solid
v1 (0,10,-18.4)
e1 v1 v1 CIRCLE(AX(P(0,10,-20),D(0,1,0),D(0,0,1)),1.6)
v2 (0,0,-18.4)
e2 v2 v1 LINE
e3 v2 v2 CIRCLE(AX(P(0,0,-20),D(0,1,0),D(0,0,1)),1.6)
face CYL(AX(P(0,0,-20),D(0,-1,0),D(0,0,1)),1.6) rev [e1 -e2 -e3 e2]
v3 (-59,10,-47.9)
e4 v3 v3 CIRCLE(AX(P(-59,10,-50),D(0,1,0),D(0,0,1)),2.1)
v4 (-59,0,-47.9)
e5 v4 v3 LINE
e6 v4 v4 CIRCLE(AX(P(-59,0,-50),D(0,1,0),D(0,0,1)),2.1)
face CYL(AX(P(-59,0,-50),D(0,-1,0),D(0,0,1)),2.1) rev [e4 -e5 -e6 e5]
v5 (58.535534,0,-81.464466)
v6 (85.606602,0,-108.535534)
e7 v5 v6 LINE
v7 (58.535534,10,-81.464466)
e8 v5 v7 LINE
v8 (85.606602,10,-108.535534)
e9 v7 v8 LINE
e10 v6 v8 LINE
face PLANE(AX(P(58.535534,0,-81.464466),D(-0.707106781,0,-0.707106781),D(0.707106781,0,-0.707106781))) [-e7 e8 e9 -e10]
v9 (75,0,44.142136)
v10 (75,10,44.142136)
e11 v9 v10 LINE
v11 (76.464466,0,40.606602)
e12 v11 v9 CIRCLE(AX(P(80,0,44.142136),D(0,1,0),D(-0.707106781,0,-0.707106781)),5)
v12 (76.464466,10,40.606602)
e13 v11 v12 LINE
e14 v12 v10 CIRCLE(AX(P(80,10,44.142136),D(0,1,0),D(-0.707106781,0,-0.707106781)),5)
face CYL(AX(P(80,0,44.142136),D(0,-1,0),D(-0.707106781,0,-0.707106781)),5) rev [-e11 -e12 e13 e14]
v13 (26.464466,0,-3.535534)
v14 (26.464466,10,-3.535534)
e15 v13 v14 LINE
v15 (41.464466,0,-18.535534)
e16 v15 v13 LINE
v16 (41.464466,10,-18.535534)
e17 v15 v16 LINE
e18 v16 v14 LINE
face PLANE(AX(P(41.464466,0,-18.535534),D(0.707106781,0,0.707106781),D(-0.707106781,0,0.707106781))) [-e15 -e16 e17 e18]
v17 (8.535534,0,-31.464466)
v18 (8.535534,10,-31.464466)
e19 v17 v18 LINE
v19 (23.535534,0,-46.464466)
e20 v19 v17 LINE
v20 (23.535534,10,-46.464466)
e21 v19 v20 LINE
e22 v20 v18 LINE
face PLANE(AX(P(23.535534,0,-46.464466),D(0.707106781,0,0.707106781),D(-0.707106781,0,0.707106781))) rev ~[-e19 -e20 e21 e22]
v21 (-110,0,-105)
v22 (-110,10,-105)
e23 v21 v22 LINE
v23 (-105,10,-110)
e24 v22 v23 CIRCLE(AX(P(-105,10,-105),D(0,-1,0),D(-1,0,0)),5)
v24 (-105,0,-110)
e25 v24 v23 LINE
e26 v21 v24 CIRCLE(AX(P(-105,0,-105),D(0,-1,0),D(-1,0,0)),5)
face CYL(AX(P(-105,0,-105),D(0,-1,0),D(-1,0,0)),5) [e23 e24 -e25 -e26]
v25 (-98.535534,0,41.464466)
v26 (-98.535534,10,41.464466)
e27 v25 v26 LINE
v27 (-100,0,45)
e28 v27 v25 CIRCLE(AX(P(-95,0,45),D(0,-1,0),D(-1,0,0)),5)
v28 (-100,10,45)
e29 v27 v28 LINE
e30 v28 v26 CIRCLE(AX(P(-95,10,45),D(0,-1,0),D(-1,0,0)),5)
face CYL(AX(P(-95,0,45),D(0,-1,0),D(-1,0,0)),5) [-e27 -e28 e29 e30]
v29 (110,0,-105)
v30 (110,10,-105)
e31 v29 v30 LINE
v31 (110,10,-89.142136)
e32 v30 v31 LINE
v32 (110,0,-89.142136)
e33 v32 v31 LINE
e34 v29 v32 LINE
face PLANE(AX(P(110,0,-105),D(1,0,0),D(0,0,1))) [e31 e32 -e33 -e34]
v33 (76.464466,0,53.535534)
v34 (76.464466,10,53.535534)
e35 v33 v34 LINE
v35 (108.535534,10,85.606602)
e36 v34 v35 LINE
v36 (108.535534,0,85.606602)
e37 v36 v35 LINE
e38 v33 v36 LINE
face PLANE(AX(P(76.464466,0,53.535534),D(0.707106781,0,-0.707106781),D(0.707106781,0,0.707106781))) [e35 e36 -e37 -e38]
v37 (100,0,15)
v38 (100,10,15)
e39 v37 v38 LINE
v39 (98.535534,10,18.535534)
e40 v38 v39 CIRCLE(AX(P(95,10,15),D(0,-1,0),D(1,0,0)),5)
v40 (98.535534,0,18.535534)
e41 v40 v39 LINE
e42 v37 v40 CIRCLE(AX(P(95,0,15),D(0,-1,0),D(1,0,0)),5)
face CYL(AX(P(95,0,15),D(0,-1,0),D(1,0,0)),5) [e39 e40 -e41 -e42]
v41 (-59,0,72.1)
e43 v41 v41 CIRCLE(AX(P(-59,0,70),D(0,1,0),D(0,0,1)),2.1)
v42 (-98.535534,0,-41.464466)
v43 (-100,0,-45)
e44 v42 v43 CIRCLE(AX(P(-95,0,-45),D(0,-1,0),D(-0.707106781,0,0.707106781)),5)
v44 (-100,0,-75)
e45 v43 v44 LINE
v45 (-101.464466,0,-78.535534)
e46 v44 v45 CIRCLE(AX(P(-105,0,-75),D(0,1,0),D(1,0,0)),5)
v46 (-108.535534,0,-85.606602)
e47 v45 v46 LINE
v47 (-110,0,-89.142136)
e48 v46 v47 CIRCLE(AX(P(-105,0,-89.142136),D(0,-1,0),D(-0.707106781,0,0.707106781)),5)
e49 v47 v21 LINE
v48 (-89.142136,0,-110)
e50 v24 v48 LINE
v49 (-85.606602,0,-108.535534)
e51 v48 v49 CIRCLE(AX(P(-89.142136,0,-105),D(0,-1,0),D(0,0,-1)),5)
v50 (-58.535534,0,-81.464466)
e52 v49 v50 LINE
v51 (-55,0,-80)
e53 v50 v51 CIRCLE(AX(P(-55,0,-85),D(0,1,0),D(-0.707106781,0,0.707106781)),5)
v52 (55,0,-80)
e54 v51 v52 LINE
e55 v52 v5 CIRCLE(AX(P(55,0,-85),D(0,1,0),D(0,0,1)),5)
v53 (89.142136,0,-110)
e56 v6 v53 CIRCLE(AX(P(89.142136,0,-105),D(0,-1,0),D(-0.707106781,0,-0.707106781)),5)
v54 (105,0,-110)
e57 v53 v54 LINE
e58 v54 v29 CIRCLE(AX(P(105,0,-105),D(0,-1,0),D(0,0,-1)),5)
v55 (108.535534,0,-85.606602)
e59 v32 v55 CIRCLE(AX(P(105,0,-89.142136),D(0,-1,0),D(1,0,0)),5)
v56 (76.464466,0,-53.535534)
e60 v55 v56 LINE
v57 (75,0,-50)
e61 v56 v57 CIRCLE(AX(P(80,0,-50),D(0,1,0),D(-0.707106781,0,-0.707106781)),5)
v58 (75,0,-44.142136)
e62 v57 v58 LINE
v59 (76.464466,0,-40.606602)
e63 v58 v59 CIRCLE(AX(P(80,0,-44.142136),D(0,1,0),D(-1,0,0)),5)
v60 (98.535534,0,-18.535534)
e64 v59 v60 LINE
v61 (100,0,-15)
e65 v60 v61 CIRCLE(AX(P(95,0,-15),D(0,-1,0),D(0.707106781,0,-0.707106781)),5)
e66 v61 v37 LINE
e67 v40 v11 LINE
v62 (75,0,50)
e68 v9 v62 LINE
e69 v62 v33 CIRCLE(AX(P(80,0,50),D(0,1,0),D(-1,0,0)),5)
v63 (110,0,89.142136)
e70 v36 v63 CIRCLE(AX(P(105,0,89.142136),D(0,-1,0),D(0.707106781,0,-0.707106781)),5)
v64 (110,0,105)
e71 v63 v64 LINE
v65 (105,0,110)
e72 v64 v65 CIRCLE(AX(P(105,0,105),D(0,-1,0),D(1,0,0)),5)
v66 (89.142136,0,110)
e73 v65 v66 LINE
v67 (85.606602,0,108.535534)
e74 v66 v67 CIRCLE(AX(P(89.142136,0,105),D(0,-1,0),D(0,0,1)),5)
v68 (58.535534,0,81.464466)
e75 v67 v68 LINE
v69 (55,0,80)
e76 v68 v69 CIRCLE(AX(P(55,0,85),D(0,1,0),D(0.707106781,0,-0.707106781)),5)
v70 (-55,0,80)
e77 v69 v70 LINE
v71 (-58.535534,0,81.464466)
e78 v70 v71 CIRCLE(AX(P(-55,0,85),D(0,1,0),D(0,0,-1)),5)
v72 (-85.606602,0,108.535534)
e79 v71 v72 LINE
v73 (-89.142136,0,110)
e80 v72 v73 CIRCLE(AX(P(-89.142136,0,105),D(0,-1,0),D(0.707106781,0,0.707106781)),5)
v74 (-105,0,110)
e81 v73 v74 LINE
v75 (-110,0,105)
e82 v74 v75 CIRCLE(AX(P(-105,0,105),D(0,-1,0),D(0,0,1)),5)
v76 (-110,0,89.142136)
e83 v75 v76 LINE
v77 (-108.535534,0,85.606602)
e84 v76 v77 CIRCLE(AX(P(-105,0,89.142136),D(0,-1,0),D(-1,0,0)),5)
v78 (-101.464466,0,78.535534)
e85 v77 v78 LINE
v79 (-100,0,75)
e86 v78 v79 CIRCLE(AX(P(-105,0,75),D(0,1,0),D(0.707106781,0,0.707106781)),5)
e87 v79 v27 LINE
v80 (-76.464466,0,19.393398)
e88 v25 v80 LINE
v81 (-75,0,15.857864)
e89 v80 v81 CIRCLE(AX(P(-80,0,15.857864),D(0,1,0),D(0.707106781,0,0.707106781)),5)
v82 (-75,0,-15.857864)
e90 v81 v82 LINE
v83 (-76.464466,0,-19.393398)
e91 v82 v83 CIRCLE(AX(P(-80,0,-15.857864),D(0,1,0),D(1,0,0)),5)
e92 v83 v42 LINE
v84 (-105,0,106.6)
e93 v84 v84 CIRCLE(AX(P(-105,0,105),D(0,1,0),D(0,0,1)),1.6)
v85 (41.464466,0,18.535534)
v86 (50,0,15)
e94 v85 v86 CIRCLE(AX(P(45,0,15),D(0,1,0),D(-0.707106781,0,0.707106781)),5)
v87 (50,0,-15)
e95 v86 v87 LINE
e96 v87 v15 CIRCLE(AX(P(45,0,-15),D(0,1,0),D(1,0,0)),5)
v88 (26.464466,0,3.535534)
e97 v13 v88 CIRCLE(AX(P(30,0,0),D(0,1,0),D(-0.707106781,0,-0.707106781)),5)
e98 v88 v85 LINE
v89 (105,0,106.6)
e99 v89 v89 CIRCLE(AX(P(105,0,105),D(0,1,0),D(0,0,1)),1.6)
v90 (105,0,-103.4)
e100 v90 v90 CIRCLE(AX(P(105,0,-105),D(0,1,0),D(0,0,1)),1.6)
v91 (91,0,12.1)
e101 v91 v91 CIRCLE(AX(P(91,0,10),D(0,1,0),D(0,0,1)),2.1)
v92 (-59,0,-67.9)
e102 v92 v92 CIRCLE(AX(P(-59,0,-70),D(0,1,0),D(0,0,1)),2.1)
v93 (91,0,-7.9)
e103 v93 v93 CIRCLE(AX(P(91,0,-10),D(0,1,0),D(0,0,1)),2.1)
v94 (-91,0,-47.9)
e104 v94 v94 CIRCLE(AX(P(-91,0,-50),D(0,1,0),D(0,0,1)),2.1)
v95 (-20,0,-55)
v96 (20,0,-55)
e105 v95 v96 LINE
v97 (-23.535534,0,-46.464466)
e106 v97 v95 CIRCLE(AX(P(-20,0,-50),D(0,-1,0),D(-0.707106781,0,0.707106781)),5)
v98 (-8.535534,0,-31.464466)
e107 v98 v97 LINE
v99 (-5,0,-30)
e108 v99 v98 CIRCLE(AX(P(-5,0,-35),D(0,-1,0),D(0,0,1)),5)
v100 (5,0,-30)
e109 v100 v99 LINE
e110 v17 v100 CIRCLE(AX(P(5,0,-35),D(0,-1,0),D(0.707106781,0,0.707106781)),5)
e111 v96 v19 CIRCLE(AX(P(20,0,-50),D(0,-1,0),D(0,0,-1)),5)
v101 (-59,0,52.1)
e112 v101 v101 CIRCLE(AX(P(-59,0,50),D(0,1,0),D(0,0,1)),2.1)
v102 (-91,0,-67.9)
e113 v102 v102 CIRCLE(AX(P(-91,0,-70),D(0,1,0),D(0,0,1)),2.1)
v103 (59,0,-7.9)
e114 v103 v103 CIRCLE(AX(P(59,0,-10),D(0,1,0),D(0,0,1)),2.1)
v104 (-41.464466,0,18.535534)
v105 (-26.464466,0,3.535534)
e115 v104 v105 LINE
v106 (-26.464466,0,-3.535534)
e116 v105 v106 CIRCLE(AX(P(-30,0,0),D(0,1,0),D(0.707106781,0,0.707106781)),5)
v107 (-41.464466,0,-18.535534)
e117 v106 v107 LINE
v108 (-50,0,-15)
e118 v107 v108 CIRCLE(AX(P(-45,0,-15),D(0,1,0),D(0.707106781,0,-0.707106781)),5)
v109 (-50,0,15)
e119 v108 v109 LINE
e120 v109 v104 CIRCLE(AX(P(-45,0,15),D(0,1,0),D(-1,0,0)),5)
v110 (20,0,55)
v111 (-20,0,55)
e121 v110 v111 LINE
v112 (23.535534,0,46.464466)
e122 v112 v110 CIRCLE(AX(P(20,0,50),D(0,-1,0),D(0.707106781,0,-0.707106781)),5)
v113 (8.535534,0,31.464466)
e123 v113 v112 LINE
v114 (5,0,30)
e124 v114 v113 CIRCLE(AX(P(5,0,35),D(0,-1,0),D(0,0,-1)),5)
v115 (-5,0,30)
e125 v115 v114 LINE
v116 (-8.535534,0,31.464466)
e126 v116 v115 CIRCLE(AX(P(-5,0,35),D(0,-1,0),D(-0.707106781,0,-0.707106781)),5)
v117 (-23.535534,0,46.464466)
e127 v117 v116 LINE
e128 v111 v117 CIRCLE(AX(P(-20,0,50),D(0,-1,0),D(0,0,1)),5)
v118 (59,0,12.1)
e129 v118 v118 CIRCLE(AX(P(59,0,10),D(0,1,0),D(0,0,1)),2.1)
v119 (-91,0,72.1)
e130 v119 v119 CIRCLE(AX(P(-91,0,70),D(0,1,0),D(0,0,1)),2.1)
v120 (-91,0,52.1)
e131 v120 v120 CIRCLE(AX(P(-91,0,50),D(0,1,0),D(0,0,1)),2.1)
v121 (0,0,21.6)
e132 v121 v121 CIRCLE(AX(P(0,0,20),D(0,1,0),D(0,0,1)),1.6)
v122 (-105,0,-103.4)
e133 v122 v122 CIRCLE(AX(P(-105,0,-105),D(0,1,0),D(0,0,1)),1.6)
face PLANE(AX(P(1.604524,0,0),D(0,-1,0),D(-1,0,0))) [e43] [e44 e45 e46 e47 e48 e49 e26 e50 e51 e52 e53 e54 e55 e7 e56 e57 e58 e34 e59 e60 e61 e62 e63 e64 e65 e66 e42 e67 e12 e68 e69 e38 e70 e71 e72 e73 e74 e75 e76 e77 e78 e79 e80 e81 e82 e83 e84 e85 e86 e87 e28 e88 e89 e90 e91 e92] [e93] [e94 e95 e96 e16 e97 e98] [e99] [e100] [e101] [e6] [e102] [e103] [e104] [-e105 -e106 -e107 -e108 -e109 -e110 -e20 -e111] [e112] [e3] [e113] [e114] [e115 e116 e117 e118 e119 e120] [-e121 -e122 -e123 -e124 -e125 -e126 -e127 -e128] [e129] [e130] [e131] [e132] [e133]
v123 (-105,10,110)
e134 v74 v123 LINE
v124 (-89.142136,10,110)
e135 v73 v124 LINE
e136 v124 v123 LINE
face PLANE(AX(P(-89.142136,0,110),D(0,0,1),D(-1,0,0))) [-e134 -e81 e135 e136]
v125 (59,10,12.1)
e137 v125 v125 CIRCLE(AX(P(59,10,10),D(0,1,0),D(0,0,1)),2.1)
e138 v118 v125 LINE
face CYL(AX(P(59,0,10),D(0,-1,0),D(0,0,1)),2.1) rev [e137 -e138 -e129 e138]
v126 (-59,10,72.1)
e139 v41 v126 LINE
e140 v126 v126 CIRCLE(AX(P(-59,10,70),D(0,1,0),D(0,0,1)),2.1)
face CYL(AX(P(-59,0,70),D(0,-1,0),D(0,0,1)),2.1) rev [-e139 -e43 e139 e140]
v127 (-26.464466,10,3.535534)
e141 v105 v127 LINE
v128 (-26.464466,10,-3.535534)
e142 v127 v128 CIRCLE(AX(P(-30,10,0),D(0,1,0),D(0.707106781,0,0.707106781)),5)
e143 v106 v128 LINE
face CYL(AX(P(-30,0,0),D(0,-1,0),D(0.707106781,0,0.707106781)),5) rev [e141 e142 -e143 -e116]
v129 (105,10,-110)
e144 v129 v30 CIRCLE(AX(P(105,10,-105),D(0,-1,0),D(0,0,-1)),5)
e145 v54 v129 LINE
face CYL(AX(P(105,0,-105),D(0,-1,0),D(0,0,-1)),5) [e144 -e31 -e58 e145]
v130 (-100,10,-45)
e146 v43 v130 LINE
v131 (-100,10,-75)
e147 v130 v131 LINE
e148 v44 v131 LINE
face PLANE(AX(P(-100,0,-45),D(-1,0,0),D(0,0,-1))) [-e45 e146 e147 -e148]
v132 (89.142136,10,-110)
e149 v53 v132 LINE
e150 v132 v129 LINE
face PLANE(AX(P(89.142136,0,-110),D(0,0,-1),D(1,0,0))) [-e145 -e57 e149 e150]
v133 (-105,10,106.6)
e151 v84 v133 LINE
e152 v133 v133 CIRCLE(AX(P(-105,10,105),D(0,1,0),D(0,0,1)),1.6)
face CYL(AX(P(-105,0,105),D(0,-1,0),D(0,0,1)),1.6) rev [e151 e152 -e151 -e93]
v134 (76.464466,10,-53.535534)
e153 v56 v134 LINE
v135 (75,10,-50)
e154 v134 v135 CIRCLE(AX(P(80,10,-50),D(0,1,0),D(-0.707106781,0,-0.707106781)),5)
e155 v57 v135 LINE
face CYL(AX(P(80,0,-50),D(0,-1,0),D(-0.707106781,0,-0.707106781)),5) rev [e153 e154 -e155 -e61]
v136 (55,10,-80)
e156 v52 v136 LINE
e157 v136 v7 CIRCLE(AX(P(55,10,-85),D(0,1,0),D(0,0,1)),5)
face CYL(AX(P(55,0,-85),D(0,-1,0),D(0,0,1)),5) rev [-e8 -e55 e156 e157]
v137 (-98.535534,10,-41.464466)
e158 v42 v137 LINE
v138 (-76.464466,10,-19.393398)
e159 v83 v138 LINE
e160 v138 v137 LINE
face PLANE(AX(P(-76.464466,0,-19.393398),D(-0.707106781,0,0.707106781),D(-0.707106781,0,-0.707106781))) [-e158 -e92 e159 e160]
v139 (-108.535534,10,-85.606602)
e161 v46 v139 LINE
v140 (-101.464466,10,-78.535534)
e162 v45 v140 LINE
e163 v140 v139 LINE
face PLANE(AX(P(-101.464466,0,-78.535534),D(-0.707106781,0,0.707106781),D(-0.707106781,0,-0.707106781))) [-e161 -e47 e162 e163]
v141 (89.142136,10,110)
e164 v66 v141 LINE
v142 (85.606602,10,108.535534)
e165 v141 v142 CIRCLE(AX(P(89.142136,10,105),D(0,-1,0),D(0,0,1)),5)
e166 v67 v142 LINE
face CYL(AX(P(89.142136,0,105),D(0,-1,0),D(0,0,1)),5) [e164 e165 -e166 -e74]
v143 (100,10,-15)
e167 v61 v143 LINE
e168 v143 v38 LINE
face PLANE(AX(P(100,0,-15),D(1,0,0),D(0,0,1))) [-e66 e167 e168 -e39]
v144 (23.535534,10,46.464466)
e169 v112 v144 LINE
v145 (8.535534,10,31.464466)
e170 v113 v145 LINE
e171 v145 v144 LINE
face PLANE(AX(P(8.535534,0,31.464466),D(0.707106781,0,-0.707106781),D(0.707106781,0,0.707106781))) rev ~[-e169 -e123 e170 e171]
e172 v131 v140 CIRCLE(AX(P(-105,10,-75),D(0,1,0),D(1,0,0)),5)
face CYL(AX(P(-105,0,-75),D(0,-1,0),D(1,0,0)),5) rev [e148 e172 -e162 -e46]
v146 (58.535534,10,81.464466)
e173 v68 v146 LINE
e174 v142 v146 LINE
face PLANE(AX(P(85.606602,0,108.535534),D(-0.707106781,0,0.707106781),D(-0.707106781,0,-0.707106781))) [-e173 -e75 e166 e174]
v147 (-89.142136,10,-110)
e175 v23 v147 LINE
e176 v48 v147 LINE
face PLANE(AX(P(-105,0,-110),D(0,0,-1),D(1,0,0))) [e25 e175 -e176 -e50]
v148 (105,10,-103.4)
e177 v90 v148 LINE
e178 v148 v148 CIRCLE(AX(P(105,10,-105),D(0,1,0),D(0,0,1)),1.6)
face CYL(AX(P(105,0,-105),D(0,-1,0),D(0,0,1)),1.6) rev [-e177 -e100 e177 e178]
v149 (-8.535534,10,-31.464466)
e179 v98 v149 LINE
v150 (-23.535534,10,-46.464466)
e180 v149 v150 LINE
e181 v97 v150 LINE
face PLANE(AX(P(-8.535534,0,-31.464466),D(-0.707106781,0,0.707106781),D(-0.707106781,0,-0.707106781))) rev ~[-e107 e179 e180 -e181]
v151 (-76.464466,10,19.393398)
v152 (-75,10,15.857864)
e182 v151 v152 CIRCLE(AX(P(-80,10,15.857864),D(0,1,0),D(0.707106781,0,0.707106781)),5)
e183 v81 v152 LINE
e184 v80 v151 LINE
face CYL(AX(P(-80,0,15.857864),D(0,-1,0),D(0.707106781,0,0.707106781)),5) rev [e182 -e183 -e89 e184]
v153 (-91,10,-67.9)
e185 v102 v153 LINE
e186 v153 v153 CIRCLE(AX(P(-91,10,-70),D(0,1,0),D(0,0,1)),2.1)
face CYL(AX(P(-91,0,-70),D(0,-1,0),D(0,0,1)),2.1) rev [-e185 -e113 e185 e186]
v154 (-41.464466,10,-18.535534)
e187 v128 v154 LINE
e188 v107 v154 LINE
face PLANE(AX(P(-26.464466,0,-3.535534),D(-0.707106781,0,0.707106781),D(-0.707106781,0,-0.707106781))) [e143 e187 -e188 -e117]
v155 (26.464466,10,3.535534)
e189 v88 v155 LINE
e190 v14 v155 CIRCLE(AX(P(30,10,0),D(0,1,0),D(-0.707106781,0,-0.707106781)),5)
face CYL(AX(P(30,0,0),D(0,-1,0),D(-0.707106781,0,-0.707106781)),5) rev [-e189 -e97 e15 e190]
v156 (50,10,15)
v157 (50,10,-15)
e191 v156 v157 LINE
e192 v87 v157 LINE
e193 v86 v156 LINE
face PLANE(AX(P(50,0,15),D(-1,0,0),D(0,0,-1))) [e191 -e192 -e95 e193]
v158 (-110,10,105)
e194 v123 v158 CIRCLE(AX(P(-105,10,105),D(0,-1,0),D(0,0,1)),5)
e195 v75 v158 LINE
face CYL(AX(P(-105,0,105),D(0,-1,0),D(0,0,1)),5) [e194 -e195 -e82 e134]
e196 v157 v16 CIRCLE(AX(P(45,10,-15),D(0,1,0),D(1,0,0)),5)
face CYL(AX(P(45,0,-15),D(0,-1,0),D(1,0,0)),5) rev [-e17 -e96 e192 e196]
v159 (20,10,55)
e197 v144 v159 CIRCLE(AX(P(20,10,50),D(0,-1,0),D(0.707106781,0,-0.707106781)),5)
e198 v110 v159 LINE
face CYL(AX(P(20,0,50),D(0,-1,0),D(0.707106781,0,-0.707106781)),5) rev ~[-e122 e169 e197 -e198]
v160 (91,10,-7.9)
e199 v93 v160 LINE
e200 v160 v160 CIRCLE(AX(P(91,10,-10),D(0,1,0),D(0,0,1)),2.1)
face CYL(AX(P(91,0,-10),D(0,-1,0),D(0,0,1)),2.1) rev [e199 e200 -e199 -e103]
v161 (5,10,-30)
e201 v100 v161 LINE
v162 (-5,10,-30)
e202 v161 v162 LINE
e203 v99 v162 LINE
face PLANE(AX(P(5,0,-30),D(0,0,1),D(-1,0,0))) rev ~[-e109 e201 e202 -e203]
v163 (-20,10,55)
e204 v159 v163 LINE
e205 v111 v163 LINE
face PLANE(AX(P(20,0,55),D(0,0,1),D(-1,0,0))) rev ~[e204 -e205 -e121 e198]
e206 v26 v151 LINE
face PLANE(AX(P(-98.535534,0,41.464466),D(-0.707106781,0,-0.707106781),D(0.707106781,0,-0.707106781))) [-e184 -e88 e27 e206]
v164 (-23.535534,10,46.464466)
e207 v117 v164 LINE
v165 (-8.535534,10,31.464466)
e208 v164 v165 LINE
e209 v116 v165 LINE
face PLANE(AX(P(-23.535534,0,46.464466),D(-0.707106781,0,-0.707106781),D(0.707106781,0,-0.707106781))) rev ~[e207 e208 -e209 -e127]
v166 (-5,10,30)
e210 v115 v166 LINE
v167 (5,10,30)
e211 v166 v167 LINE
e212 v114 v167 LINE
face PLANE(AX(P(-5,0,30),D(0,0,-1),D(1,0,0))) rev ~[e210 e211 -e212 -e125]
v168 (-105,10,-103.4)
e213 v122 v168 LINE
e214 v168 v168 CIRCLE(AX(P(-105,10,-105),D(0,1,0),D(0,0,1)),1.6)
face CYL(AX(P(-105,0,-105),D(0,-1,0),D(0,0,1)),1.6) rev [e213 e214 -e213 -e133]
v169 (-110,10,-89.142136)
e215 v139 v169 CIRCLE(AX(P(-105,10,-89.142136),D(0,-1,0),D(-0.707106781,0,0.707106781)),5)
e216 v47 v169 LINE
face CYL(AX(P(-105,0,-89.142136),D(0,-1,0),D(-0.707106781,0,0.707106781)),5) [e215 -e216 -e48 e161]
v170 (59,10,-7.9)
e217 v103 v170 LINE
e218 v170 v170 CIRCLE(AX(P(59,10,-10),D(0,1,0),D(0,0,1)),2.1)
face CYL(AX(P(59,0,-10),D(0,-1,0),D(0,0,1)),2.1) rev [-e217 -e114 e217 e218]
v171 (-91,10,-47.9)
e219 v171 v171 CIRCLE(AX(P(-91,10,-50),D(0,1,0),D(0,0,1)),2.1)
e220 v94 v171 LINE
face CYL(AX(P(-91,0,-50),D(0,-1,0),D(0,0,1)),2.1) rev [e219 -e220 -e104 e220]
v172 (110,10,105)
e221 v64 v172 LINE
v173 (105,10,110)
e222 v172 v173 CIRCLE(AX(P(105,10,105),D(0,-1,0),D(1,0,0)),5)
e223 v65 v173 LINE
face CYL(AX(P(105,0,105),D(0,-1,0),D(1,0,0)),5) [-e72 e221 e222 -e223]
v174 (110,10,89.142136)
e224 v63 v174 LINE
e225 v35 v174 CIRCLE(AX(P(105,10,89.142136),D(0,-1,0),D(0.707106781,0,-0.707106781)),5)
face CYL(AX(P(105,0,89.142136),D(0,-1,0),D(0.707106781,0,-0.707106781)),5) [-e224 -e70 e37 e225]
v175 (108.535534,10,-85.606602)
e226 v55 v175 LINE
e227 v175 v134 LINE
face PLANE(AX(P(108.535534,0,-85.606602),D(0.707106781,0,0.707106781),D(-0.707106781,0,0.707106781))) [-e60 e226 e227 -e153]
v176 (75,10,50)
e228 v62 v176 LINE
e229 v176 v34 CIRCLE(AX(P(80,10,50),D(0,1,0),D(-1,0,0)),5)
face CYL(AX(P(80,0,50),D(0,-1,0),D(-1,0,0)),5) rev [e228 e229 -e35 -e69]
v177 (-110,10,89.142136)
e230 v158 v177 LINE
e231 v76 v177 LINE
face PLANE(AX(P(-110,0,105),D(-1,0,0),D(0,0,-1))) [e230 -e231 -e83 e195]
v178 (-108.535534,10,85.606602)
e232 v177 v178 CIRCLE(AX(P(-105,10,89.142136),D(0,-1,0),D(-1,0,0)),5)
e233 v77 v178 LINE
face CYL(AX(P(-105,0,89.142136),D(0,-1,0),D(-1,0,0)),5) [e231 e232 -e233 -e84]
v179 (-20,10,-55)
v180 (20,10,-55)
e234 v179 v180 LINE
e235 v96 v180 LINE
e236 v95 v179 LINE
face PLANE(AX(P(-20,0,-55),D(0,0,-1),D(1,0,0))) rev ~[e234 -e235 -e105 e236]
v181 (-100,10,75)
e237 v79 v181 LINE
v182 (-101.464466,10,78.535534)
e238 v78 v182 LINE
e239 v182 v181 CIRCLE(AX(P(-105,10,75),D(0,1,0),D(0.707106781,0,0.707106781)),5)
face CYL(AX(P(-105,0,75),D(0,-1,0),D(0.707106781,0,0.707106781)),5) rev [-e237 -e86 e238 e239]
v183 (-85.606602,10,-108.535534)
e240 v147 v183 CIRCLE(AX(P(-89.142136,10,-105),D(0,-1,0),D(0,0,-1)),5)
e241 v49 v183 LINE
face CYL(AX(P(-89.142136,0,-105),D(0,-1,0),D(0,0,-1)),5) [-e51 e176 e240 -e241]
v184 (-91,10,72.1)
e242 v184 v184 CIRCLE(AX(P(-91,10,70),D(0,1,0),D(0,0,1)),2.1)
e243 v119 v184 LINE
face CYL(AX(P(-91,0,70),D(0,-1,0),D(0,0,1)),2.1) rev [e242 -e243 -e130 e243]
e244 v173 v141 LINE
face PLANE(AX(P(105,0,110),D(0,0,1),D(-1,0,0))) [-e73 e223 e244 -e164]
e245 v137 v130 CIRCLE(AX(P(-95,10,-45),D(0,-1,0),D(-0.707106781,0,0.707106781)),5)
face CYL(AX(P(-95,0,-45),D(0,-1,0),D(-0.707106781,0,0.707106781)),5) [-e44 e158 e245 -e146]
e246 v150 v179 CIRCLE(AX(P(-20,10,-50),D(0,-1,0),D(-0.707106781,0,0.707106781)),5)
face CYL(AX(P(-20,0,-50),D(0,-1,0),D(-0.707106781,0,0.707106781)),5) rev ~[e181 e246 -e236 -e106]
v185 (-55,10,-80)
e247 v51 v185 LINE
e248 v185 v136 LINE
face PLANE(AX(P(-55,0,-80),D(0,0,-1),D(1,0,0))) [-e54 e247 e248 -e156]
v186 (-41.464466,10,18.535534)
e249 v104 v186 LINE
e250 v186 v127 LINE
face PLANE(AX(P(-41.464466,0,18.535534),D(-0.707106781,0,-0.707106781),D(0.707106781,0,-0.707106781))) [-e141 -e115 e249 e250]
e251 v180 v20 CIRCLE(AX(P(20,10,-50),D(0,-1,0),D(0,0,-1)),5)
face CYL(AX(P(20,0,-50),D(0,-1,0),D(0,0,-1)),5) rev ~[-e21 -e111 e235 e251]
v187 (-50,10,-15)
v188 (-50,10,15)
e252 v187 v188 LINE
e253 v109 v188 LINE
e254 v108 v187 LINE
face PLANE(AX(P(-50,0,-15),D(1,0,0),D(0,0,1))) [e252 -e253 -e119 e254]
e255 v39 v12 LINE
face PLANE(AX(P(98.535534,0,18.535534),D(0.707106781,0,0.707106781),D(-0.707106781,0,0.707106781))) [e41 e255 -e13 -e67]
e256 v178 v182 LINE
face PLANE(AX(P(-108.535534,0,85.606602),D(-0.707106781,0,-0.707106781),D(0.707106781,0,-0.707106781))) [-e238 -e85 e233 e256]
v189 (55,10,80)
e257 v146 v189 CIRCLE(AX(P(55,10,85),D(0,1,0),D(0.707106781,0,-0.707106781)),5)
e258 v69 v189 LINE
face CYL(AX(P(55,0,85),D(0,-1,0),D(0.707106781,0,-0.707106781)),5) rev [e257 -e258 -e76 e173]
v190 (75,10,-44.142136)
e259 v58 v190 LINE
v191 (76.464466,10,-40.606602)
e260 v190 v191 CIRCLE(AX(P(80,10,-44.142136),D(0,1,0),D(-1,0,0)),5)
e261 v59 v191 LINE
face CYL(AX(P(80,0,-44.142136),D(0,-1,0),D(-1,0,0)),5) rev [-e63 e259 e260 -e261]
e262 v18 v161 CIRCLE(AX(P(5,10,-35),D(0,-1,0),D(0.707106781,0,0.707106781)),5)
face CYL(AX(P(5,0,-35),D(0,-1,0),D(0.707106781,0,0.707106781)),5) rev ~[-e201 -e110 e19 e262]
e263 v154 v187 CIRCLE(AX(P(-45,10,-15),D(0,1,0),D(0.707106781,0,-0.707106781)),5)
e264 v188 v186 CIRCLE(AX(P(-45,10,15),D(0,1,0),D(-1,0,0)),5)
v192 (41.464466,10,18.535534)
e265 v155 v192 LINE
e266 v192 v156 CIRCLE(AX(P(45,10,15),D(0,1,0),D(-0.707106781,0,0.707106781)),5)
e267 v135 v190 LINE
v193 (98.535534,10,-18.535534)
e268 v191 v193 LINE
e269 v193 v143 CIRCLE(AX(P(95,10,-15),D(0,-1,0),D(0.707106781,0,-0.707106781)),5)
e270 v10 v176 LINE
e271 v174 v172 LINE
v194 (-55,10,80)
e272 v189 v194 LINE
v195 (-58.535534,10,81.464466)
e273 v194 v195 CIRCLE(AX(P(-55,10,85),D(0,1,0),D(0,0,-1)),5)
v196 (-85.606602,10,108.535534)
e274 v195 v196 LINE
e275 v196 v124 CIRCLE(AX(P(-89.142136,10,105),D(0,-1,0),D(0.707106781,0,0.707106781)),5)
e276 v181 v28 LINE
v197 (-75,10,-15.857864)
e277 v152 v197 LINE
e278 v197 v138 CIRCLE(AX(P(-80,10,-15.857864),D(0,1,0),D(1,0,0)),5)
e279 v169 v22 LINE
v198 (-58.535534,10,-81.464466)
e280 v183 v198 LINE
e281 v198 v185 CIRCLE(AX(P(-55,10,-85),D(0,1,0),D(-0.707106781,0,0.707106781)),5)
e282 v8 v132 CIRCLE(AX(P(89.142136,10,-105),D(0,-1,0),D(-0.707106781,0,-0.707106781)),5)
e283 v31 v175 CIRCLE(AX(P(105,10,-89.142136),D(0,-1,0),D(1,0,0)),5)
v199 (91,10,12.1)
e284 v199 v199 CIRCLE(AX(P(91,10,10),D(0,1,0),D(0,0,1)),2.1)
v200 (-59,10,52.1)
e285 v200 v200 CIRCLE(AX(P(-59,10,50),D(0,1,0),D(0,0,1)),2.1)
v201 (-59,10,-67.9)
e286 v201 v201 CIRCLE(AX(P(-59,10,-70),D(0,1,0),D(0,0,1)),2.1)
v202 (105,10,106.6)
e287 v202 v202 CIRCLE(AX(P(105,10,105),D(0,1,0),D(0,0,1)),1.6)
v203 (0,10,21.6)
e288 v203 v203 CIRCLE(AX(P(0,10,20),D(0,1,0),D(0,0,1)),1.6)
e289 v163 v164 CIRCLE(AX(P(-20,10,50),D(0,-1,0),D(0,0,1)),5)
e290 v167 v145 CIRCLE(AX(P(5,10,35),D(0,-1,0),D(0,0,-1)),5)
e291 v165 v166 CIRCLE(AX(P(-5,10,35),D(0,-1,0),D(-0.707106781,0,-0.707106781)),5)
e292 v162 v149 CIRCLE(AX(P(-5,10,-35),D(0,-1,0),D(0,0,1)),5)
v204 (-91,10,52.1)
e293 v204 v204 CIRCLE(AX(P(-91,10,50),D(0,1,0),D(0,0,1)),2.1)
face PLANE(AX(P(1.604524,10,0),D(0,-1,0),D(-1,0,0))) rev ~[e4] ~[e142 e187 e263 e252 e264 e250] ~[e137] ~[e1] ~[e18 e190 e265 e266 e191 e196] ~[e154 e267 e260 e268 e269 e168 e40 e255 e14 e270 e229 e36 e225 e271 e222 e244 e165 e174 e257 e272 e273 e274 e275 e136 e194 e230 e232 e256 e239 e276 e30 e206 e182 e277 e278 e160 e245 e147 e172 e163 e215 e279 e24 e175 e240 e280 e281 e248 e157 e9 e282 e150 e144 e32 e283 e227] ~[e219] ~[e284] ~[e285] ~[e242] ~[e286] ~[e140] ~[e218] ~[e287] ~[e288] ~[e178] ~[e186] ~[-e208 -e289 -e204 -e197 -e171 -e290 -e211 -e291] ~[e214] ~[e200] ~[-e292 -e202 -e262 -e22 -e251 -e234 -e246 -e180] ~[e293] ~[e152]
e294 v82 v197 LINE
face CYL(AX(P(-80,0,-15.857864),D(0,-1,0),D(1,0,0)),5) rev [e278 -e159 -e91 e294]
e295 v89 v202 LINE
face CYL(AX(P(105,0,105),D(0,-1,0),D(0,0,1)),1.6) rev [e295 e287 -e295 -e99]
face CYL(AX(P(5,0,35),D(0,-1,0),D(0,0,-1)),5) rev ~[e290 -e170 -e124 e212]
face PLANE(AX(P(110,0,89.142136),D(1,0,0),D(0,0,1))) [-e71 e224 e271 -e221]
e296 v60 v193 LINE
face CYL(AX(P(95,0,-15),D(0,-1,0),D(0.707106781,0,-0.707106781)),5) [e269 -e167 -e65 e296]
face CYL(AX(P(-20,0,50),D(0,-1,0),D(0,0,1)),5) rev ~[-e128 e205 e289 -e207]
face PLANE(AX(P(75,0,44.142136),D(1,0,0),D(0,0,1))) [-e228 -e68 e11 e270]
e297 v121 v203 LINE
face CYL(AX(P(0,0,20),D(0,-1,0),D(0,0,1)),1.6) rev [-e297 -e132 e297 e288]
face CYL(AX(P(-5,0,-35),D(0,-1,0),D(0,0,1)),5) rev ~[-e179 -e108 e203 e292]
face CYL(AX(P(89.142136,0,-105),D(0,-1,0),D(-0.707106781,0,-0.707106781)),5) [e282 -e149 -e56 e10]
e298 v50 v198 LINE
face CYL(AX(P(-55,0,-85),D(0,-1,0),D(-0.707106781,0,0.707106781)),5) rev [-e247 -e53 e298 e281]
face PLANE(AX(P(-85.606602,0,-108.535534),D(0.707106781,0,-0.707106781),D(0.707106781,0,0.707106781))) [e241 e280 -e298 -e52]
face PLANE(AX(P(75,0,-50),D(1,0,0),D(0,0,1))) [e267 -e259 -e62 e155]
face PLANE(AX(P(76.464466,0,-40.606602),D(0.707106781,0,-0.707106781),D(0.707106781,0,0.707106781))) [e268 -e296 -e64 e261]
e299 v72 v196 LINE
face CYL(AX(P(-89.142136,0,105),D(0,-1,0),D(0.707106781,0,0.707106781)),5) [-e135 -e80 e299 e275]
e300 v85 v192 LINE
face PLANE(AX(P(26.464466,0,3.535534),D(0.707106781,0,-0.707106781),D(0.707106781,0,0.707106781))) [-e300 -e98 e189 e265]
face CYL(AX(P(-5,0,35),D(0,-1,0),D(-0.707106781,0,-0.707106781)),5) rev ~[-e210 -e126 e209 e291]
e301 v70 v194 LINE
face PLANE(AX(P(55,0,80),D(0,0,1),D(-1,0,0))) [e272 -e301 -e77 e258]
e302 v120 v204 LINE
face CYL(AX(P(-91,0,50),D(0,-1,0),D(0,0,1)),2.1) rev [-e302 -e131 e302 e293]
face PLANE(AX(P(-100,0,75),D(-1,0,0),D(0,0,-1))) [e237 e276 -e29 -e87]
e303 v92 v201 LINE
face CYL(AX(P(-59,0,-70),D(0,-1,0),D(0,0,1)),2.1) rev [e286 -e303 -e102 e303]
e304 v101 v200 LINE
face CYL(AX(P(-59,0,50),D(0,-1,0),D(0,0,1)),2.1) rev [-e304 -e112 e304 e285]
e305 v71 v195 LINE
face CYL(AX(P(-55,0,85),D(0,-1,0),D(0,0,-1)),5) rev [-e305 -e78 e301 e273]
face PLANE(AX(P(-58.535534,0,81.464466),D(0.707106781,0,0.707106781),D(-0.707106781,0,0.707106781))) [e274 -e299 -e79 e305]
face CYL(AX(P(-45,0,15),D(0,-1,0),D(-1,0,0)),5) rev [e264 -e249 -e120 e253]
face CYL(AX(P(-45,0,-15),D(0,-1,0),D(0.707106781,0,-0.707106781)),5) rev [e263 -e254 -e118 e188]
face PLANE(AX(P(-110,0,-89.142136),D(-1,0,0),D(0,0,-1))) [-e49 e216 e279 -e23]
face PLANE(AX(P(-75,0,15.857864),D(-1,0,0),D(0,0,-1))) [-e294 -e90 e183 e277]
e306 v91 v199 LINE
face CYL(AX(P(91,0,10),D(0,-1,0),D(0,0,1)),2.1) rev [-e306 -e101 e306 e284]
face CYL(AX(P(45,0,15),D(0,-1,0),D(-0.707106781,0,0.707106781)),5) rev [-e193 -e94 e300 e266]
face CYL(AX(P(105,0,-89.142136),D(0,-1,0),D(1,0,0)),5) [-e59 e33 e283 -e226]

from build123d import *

# Parameters (mm, degrees)
SKETCH_1_R      = 1.6
SKETCH_1_R_2    = 2.1
EXTRUDE_1_DEPTH = 10


with BuildPart() as part:
    # Эскиз1 → Бобышка-Вытянуть1 (new body)
    with BuildSketch(Plane(origin=(0, 0, 0), x_dir=(1, 0, 0), z_dir=(0, 1, 0))):
        with BuildLine():
            Line((-105, 110), (-89.142135624, 110))
            ThreePointArc((-89.142135624, 110), (-87.228718462, 109.619397663), (-85.606601718, 108.535533906))
            Line((-85.606601718, 108.535533906), (-58.535533906, 81.464466094))
            ThreePointArc((-58.535533906, 81.464466094), (-56.913417162, 80.380602337), (-55, 80))
            Line((-55, 80), (55, 80))
            ThreePointArc((55, 80), (56.913417162, 80.380602337), (58.535533906, 81.464466094))
            Line((58.535533906, 81.464466094), (85.606601718, 108.535533906))
            ThreePointArc((85.606601718, 108.535533906), (87.228718462, 109.619397663), (89.142135624, 110))
            Line((89.142135624, 110), (105, 110))
            ThreePointArc((105, 110), (108.535533906, 108.535533906), (110, 105))
            Line((110, 105), (110, 89.142135624))
            ThreePointArc((110, 89.142135624), (109.619397663, 87.228718462), (108.535533906, 85.606601718))
            Line((108.535533906, 85.606601718), (76.464466094, 53.535533906))
            ThreePointArc((76.464466094, 53.535533906), (75.380602337, 51.913417162), (75, 50))
            Line((75, 50), (75, 44.142135624))
            ThreePointArc((75, 44.142135624), (75.380602337, 42.228718462), (76.464466094, 40.606601718))
            Line((76.464466094, 40.606601718), (98.535533906, 18.535533906))
            ThreePointArc((98.535533906, 18.535533906), (99.619397663, 16.913417162), (100, 15))
            Line((100, 15), (100, -15))
            ThreePointArc((100, -15), (99.619397663, -16.913417162), (98.535533906, -18.535533906))
            Line((98.535533906, -18.535533906), (76.464466094, -40.606601718))
            ThreePointArc((76.464466094, -40.606601718), (75.380602337, -42.228718462), (75, -44.142135624))
            Line((75, -44.142135624), (75, -50))
            ThreePointArc((75, -50), (75.380602337, -51.913417162), (76.464466094, -53.535533906))
            Line((76.464466094, -53.535533906), (108.535533906, -85.606601718))
            ThreePointArc((108.535533906, -85.606601718), (109.619397663, -87.228718462), (110, -89.142135624))
            Line((110, -89.142135624), (110, -105))
            ThreePointArc((110, -105), (108.535533906, -108.535533906), (105, -110))
            Line((105, -110), (89.142135624, -110))
            ThreePointArc((89.142135624, -110), (87.228718462, -109.619397663), (85.606601718, -108.535533906))
            Line((85.606601718, -108.535533906), (58.535533906, -81.464466094))
            ThreePointArc((58.535533906, -81.464466094), (56.913417162, -80.380602337), (55, -80))
            Line((55, -80), (-55, -80))
            ThreePointArc((-55, -80), (-56.913417162, -80.380602337), (-58.535533906, -81.464466094))
            Line((-58.535533906, -81.464466094), (-85.606601718, -108.535533906))
            ThreePointArc((-85.606601718, -108.535533906), (-87.228718462, -109.619397663), (-89.142135624, -110))
            Line((-89.142135624, -110), (-105, -110))
            ThreePointArc((-105, -110), (-108.535533906, -108.535533906), (-110, -105))
            Line((-110, -105), (-110, -89.142135624))
            ThreePointArc((-110, -89.142135624), (-109.619397663, -87.228718462), (-108.535533906, -85.606601718))
            Line((-108.535533906, -85.606601718), (-101.464466094, -78.535533906))
            ThreePointArc((-101.464466094, -78.535533906), (-100.380602337, -76.913417162), (-100, -75))
            Line((-100, -75), (-100, -45))
            ThreePointArc((-100, -45), (-99.619397663, -43.086582838), (-98.535533906, -41.464466094))
            Line((-98.535533906, -41.464466094), (-76.464466094, -19.393398282))
            ThreePointArc((-76.464466094, -19.393398282), (-75.380602337, -17.771281538), (-75, -15.857864376))
            Line((-75, -15.857864376), (-75, 15.857864376))
            ThreePointArc((-75, 15.857864376), (-75.380602337, 17.771281538), (-76.464466094, 19.393398282))
            Line((-76.464466094, 19.393398282), (-98.535533906, 41.464466094))
            ThreePointArc((-98.535533906, 41.464466094), (-99.619397663, 43.086582838), (-100, 45))
            Line((-100, 45), (-100, 75))
            ThreePointArc((-100, 75), (-100.380602337, 76.913417162), (-101.464466094, 78.535533906))
            Line((-101.464466094, 78.535533906), (-108.535533906, 85.606601718))
            ThreePointArc((-108.535533906, 85.606601718), (-109.619397663, 87.228718462), (-110, 89.142135624))
            Line((-110, 89.142135624), (-110, 105))
            ThreePointArc((-110, 105), (-108.535533906, 108.535533906), (-105, 110))
        make_face()
        with Locations(Location((105, 105, 0), (0, 0, 270))):
            Circle(SKETCH_1_R, mode=Mode.SUBTRACT)
        with Locations(Location((105, -105, 0), (0, 0, 270))):
            Circle(SKETCH_1_R, mode=Mode.SUBTRACT)
        with Locations(Location((-105, -105, 0), (0, 0, 270))):
            Circle(SKETCH_1_R, mode=Mode.SUBTRACT)
        with Locations(Location((-105, 105, 0), (0, 0, 270))):
            Circle(SKETCH_1_R, mode=Mode.SUBTRACT)
        with Locations(Location((-91, 70, 0), (0, 0, 270))):
            Circle(SKETCH_1_R_2, mode=Mode.SUBTRACT)
        with Locations(Location((-59, 70, 0), (0, 0, 270))):
            Circle(SKETCH_1_R_2, mode=Mode.SUBTRACT)
        with Locations(Location((-59, 50, 0), (0, 0, 270))):
            Circle(SKETCH_1_R_2, mode=Mode.SUBTRACT)
        with Locations(Location((-91, 50, 0), (0, 0, 270))):
            Circle(SKETCH_1_R_2, mode=Mode.SUBTRACT)
        with Locations(Location((-59, -50, 0), (0, 0, 270))):
            Circle(SKETCH_1_R_2, mode=Mode.SUBTRACT)
        with Locations(Location((-91, -50, 0), (0, 0, 270))):
            Circle(SKETCH_1_R_2, mode=Mode.SUBTRACT)
        with Locations(Location((-91, -70, 0), (0, 0, 270))):
            Circle(SKETCH_1_R_2, mode=Mode.SUBTRACT)
        with Locations(Location((-59, -70, 0), (0, 0, 270))):
            Circle(SKETCH_1_R_2, mode=Mode.SUBTRACT)
        with Locations(Location((91, -10, 0), (0, 0, 270))):
            Circle(SKETCH_1_R_2, mode=Mode.SUBTRACT)
        with Locations(Location((59, -10, 0), (0, 0, 270))):
            Circle(SKETCH_1_R_2, mode=Mode.SUBTRACT)
        with Locations(Location((59, 10, 0), (0, 0, 270))):
            Circle(SKETCH_1_R_2, mode=Mode.SUBTRACT)
        with Locations(Location((91, 10, 0), (0, 0, 270))):
            Circle(SKETCH_1_R_2, mode=Mode.SUBTRACT)
        with Locations(Location((0, -20, 0), (0, 0, 270))):
            Circle(SKETCH_1_R, mode=Mode.SUBTRACT)
        with Locations(Location((0, 20, 0), (0, 0, 270))):
            Circle(SKETCH_1_R, mode=Mode.SUBTRACT)
        with BuildLine():
            Line((-23.535533906, -46.464466094), (-8.535533906, -31.464466094))
            ThreePointArc((-8.535533906, -31.464466094), (-6.913417162, -30.380602337), (-5, -30))
            Line((-5, -30), (5, -30))
            ThreePointArc((5, -30), (6.913417162, -30.380602337), (8.535533906, -31.464466094))
            Line((8.535533906, -31.464466094), (23.535533906, -46.464466094))
            ThreePointArc((23.535533906, -46.464466094), (24.619397663, -51.913417162), (20, -55))
            Line((20, -55), (-20, -55))
            ThreePointArc((-20, -55), (-24.619397663, -51.913417162), (-23.535533906, -46.464466094))
        make_face(mode=Mode.SUBTRACT)
        with BuildLine():
            Line((23.535533906, 46.464466094), (8.535533906, 31.464466094))
            ThreePointArc((8.535533906, 31.464466094), (6.913417162, 30.380602337), (5, 30))
            Line((5, 30), (-5, 30))
            ThreePointArc((-5, 30), (-6.913417162, 30.380602337), (-8.535533906, 31.464466094))
            Line((-8.535533906, 31.464466094), (-23.535533906, 46.464466094))
            ThreePointArc((-23.535533906, 46.464466094), (-24.619397663, 51.913417162), (-20, 55))
            Line((-20, 55), (20, 55))
            ThreePointArc((20, 55), (24.619397663, 51.913417162), (23.535533906, 46.464466094))
        make_face(mode=Mode.SUBTRACT)
        with BuildLine():
            Line((-50, 15), (-50, -15))
            ThreePointArc((-50, -15), (-46.913417162, -19.619397663), (-41.464466094, -18.535533906))
            Line((-41.464466094, -18.535533906), (-26.464466094, -3.535533906))
            ThreePointArc((-26.464466094, -3.535533906), (-25, 0), (-26.464466094, 3.535533906))
            Line((-26.464466094, 3.535533906), (-41.464466094, 18.535533906))
            ThreePointArc((-41.464466094, 18.535533906), (-46.913417162, 19.619397663), (-50, 15))
        make_face(mode=Mode.SUBTRACT)
        with BuildLine():
            Line((41.464466094, 18.535533906), (26.464466094, 3.535533906))
            ThreePointArc((26.464466094, 3.535533906), (25, 0), (26.464466094, -3.535533906))
            Line((26.464466094, -3.535533906), (41.464466094, -18.535533906))
            ThreePointArc((41.464466094, -18.535533906), (46.913417162, -19.619397663), (50, -15))
            Line((50, -15), (50, 15))
            ThreePointArc((50, 15), (46.913417162, 19.619397663), (41.464466094, 18.535533906))
        make_face(mode=Mode.SUBTRACT)
    extrude(amount=EXTRUDE_1_DEPTH)


solid = part.part
